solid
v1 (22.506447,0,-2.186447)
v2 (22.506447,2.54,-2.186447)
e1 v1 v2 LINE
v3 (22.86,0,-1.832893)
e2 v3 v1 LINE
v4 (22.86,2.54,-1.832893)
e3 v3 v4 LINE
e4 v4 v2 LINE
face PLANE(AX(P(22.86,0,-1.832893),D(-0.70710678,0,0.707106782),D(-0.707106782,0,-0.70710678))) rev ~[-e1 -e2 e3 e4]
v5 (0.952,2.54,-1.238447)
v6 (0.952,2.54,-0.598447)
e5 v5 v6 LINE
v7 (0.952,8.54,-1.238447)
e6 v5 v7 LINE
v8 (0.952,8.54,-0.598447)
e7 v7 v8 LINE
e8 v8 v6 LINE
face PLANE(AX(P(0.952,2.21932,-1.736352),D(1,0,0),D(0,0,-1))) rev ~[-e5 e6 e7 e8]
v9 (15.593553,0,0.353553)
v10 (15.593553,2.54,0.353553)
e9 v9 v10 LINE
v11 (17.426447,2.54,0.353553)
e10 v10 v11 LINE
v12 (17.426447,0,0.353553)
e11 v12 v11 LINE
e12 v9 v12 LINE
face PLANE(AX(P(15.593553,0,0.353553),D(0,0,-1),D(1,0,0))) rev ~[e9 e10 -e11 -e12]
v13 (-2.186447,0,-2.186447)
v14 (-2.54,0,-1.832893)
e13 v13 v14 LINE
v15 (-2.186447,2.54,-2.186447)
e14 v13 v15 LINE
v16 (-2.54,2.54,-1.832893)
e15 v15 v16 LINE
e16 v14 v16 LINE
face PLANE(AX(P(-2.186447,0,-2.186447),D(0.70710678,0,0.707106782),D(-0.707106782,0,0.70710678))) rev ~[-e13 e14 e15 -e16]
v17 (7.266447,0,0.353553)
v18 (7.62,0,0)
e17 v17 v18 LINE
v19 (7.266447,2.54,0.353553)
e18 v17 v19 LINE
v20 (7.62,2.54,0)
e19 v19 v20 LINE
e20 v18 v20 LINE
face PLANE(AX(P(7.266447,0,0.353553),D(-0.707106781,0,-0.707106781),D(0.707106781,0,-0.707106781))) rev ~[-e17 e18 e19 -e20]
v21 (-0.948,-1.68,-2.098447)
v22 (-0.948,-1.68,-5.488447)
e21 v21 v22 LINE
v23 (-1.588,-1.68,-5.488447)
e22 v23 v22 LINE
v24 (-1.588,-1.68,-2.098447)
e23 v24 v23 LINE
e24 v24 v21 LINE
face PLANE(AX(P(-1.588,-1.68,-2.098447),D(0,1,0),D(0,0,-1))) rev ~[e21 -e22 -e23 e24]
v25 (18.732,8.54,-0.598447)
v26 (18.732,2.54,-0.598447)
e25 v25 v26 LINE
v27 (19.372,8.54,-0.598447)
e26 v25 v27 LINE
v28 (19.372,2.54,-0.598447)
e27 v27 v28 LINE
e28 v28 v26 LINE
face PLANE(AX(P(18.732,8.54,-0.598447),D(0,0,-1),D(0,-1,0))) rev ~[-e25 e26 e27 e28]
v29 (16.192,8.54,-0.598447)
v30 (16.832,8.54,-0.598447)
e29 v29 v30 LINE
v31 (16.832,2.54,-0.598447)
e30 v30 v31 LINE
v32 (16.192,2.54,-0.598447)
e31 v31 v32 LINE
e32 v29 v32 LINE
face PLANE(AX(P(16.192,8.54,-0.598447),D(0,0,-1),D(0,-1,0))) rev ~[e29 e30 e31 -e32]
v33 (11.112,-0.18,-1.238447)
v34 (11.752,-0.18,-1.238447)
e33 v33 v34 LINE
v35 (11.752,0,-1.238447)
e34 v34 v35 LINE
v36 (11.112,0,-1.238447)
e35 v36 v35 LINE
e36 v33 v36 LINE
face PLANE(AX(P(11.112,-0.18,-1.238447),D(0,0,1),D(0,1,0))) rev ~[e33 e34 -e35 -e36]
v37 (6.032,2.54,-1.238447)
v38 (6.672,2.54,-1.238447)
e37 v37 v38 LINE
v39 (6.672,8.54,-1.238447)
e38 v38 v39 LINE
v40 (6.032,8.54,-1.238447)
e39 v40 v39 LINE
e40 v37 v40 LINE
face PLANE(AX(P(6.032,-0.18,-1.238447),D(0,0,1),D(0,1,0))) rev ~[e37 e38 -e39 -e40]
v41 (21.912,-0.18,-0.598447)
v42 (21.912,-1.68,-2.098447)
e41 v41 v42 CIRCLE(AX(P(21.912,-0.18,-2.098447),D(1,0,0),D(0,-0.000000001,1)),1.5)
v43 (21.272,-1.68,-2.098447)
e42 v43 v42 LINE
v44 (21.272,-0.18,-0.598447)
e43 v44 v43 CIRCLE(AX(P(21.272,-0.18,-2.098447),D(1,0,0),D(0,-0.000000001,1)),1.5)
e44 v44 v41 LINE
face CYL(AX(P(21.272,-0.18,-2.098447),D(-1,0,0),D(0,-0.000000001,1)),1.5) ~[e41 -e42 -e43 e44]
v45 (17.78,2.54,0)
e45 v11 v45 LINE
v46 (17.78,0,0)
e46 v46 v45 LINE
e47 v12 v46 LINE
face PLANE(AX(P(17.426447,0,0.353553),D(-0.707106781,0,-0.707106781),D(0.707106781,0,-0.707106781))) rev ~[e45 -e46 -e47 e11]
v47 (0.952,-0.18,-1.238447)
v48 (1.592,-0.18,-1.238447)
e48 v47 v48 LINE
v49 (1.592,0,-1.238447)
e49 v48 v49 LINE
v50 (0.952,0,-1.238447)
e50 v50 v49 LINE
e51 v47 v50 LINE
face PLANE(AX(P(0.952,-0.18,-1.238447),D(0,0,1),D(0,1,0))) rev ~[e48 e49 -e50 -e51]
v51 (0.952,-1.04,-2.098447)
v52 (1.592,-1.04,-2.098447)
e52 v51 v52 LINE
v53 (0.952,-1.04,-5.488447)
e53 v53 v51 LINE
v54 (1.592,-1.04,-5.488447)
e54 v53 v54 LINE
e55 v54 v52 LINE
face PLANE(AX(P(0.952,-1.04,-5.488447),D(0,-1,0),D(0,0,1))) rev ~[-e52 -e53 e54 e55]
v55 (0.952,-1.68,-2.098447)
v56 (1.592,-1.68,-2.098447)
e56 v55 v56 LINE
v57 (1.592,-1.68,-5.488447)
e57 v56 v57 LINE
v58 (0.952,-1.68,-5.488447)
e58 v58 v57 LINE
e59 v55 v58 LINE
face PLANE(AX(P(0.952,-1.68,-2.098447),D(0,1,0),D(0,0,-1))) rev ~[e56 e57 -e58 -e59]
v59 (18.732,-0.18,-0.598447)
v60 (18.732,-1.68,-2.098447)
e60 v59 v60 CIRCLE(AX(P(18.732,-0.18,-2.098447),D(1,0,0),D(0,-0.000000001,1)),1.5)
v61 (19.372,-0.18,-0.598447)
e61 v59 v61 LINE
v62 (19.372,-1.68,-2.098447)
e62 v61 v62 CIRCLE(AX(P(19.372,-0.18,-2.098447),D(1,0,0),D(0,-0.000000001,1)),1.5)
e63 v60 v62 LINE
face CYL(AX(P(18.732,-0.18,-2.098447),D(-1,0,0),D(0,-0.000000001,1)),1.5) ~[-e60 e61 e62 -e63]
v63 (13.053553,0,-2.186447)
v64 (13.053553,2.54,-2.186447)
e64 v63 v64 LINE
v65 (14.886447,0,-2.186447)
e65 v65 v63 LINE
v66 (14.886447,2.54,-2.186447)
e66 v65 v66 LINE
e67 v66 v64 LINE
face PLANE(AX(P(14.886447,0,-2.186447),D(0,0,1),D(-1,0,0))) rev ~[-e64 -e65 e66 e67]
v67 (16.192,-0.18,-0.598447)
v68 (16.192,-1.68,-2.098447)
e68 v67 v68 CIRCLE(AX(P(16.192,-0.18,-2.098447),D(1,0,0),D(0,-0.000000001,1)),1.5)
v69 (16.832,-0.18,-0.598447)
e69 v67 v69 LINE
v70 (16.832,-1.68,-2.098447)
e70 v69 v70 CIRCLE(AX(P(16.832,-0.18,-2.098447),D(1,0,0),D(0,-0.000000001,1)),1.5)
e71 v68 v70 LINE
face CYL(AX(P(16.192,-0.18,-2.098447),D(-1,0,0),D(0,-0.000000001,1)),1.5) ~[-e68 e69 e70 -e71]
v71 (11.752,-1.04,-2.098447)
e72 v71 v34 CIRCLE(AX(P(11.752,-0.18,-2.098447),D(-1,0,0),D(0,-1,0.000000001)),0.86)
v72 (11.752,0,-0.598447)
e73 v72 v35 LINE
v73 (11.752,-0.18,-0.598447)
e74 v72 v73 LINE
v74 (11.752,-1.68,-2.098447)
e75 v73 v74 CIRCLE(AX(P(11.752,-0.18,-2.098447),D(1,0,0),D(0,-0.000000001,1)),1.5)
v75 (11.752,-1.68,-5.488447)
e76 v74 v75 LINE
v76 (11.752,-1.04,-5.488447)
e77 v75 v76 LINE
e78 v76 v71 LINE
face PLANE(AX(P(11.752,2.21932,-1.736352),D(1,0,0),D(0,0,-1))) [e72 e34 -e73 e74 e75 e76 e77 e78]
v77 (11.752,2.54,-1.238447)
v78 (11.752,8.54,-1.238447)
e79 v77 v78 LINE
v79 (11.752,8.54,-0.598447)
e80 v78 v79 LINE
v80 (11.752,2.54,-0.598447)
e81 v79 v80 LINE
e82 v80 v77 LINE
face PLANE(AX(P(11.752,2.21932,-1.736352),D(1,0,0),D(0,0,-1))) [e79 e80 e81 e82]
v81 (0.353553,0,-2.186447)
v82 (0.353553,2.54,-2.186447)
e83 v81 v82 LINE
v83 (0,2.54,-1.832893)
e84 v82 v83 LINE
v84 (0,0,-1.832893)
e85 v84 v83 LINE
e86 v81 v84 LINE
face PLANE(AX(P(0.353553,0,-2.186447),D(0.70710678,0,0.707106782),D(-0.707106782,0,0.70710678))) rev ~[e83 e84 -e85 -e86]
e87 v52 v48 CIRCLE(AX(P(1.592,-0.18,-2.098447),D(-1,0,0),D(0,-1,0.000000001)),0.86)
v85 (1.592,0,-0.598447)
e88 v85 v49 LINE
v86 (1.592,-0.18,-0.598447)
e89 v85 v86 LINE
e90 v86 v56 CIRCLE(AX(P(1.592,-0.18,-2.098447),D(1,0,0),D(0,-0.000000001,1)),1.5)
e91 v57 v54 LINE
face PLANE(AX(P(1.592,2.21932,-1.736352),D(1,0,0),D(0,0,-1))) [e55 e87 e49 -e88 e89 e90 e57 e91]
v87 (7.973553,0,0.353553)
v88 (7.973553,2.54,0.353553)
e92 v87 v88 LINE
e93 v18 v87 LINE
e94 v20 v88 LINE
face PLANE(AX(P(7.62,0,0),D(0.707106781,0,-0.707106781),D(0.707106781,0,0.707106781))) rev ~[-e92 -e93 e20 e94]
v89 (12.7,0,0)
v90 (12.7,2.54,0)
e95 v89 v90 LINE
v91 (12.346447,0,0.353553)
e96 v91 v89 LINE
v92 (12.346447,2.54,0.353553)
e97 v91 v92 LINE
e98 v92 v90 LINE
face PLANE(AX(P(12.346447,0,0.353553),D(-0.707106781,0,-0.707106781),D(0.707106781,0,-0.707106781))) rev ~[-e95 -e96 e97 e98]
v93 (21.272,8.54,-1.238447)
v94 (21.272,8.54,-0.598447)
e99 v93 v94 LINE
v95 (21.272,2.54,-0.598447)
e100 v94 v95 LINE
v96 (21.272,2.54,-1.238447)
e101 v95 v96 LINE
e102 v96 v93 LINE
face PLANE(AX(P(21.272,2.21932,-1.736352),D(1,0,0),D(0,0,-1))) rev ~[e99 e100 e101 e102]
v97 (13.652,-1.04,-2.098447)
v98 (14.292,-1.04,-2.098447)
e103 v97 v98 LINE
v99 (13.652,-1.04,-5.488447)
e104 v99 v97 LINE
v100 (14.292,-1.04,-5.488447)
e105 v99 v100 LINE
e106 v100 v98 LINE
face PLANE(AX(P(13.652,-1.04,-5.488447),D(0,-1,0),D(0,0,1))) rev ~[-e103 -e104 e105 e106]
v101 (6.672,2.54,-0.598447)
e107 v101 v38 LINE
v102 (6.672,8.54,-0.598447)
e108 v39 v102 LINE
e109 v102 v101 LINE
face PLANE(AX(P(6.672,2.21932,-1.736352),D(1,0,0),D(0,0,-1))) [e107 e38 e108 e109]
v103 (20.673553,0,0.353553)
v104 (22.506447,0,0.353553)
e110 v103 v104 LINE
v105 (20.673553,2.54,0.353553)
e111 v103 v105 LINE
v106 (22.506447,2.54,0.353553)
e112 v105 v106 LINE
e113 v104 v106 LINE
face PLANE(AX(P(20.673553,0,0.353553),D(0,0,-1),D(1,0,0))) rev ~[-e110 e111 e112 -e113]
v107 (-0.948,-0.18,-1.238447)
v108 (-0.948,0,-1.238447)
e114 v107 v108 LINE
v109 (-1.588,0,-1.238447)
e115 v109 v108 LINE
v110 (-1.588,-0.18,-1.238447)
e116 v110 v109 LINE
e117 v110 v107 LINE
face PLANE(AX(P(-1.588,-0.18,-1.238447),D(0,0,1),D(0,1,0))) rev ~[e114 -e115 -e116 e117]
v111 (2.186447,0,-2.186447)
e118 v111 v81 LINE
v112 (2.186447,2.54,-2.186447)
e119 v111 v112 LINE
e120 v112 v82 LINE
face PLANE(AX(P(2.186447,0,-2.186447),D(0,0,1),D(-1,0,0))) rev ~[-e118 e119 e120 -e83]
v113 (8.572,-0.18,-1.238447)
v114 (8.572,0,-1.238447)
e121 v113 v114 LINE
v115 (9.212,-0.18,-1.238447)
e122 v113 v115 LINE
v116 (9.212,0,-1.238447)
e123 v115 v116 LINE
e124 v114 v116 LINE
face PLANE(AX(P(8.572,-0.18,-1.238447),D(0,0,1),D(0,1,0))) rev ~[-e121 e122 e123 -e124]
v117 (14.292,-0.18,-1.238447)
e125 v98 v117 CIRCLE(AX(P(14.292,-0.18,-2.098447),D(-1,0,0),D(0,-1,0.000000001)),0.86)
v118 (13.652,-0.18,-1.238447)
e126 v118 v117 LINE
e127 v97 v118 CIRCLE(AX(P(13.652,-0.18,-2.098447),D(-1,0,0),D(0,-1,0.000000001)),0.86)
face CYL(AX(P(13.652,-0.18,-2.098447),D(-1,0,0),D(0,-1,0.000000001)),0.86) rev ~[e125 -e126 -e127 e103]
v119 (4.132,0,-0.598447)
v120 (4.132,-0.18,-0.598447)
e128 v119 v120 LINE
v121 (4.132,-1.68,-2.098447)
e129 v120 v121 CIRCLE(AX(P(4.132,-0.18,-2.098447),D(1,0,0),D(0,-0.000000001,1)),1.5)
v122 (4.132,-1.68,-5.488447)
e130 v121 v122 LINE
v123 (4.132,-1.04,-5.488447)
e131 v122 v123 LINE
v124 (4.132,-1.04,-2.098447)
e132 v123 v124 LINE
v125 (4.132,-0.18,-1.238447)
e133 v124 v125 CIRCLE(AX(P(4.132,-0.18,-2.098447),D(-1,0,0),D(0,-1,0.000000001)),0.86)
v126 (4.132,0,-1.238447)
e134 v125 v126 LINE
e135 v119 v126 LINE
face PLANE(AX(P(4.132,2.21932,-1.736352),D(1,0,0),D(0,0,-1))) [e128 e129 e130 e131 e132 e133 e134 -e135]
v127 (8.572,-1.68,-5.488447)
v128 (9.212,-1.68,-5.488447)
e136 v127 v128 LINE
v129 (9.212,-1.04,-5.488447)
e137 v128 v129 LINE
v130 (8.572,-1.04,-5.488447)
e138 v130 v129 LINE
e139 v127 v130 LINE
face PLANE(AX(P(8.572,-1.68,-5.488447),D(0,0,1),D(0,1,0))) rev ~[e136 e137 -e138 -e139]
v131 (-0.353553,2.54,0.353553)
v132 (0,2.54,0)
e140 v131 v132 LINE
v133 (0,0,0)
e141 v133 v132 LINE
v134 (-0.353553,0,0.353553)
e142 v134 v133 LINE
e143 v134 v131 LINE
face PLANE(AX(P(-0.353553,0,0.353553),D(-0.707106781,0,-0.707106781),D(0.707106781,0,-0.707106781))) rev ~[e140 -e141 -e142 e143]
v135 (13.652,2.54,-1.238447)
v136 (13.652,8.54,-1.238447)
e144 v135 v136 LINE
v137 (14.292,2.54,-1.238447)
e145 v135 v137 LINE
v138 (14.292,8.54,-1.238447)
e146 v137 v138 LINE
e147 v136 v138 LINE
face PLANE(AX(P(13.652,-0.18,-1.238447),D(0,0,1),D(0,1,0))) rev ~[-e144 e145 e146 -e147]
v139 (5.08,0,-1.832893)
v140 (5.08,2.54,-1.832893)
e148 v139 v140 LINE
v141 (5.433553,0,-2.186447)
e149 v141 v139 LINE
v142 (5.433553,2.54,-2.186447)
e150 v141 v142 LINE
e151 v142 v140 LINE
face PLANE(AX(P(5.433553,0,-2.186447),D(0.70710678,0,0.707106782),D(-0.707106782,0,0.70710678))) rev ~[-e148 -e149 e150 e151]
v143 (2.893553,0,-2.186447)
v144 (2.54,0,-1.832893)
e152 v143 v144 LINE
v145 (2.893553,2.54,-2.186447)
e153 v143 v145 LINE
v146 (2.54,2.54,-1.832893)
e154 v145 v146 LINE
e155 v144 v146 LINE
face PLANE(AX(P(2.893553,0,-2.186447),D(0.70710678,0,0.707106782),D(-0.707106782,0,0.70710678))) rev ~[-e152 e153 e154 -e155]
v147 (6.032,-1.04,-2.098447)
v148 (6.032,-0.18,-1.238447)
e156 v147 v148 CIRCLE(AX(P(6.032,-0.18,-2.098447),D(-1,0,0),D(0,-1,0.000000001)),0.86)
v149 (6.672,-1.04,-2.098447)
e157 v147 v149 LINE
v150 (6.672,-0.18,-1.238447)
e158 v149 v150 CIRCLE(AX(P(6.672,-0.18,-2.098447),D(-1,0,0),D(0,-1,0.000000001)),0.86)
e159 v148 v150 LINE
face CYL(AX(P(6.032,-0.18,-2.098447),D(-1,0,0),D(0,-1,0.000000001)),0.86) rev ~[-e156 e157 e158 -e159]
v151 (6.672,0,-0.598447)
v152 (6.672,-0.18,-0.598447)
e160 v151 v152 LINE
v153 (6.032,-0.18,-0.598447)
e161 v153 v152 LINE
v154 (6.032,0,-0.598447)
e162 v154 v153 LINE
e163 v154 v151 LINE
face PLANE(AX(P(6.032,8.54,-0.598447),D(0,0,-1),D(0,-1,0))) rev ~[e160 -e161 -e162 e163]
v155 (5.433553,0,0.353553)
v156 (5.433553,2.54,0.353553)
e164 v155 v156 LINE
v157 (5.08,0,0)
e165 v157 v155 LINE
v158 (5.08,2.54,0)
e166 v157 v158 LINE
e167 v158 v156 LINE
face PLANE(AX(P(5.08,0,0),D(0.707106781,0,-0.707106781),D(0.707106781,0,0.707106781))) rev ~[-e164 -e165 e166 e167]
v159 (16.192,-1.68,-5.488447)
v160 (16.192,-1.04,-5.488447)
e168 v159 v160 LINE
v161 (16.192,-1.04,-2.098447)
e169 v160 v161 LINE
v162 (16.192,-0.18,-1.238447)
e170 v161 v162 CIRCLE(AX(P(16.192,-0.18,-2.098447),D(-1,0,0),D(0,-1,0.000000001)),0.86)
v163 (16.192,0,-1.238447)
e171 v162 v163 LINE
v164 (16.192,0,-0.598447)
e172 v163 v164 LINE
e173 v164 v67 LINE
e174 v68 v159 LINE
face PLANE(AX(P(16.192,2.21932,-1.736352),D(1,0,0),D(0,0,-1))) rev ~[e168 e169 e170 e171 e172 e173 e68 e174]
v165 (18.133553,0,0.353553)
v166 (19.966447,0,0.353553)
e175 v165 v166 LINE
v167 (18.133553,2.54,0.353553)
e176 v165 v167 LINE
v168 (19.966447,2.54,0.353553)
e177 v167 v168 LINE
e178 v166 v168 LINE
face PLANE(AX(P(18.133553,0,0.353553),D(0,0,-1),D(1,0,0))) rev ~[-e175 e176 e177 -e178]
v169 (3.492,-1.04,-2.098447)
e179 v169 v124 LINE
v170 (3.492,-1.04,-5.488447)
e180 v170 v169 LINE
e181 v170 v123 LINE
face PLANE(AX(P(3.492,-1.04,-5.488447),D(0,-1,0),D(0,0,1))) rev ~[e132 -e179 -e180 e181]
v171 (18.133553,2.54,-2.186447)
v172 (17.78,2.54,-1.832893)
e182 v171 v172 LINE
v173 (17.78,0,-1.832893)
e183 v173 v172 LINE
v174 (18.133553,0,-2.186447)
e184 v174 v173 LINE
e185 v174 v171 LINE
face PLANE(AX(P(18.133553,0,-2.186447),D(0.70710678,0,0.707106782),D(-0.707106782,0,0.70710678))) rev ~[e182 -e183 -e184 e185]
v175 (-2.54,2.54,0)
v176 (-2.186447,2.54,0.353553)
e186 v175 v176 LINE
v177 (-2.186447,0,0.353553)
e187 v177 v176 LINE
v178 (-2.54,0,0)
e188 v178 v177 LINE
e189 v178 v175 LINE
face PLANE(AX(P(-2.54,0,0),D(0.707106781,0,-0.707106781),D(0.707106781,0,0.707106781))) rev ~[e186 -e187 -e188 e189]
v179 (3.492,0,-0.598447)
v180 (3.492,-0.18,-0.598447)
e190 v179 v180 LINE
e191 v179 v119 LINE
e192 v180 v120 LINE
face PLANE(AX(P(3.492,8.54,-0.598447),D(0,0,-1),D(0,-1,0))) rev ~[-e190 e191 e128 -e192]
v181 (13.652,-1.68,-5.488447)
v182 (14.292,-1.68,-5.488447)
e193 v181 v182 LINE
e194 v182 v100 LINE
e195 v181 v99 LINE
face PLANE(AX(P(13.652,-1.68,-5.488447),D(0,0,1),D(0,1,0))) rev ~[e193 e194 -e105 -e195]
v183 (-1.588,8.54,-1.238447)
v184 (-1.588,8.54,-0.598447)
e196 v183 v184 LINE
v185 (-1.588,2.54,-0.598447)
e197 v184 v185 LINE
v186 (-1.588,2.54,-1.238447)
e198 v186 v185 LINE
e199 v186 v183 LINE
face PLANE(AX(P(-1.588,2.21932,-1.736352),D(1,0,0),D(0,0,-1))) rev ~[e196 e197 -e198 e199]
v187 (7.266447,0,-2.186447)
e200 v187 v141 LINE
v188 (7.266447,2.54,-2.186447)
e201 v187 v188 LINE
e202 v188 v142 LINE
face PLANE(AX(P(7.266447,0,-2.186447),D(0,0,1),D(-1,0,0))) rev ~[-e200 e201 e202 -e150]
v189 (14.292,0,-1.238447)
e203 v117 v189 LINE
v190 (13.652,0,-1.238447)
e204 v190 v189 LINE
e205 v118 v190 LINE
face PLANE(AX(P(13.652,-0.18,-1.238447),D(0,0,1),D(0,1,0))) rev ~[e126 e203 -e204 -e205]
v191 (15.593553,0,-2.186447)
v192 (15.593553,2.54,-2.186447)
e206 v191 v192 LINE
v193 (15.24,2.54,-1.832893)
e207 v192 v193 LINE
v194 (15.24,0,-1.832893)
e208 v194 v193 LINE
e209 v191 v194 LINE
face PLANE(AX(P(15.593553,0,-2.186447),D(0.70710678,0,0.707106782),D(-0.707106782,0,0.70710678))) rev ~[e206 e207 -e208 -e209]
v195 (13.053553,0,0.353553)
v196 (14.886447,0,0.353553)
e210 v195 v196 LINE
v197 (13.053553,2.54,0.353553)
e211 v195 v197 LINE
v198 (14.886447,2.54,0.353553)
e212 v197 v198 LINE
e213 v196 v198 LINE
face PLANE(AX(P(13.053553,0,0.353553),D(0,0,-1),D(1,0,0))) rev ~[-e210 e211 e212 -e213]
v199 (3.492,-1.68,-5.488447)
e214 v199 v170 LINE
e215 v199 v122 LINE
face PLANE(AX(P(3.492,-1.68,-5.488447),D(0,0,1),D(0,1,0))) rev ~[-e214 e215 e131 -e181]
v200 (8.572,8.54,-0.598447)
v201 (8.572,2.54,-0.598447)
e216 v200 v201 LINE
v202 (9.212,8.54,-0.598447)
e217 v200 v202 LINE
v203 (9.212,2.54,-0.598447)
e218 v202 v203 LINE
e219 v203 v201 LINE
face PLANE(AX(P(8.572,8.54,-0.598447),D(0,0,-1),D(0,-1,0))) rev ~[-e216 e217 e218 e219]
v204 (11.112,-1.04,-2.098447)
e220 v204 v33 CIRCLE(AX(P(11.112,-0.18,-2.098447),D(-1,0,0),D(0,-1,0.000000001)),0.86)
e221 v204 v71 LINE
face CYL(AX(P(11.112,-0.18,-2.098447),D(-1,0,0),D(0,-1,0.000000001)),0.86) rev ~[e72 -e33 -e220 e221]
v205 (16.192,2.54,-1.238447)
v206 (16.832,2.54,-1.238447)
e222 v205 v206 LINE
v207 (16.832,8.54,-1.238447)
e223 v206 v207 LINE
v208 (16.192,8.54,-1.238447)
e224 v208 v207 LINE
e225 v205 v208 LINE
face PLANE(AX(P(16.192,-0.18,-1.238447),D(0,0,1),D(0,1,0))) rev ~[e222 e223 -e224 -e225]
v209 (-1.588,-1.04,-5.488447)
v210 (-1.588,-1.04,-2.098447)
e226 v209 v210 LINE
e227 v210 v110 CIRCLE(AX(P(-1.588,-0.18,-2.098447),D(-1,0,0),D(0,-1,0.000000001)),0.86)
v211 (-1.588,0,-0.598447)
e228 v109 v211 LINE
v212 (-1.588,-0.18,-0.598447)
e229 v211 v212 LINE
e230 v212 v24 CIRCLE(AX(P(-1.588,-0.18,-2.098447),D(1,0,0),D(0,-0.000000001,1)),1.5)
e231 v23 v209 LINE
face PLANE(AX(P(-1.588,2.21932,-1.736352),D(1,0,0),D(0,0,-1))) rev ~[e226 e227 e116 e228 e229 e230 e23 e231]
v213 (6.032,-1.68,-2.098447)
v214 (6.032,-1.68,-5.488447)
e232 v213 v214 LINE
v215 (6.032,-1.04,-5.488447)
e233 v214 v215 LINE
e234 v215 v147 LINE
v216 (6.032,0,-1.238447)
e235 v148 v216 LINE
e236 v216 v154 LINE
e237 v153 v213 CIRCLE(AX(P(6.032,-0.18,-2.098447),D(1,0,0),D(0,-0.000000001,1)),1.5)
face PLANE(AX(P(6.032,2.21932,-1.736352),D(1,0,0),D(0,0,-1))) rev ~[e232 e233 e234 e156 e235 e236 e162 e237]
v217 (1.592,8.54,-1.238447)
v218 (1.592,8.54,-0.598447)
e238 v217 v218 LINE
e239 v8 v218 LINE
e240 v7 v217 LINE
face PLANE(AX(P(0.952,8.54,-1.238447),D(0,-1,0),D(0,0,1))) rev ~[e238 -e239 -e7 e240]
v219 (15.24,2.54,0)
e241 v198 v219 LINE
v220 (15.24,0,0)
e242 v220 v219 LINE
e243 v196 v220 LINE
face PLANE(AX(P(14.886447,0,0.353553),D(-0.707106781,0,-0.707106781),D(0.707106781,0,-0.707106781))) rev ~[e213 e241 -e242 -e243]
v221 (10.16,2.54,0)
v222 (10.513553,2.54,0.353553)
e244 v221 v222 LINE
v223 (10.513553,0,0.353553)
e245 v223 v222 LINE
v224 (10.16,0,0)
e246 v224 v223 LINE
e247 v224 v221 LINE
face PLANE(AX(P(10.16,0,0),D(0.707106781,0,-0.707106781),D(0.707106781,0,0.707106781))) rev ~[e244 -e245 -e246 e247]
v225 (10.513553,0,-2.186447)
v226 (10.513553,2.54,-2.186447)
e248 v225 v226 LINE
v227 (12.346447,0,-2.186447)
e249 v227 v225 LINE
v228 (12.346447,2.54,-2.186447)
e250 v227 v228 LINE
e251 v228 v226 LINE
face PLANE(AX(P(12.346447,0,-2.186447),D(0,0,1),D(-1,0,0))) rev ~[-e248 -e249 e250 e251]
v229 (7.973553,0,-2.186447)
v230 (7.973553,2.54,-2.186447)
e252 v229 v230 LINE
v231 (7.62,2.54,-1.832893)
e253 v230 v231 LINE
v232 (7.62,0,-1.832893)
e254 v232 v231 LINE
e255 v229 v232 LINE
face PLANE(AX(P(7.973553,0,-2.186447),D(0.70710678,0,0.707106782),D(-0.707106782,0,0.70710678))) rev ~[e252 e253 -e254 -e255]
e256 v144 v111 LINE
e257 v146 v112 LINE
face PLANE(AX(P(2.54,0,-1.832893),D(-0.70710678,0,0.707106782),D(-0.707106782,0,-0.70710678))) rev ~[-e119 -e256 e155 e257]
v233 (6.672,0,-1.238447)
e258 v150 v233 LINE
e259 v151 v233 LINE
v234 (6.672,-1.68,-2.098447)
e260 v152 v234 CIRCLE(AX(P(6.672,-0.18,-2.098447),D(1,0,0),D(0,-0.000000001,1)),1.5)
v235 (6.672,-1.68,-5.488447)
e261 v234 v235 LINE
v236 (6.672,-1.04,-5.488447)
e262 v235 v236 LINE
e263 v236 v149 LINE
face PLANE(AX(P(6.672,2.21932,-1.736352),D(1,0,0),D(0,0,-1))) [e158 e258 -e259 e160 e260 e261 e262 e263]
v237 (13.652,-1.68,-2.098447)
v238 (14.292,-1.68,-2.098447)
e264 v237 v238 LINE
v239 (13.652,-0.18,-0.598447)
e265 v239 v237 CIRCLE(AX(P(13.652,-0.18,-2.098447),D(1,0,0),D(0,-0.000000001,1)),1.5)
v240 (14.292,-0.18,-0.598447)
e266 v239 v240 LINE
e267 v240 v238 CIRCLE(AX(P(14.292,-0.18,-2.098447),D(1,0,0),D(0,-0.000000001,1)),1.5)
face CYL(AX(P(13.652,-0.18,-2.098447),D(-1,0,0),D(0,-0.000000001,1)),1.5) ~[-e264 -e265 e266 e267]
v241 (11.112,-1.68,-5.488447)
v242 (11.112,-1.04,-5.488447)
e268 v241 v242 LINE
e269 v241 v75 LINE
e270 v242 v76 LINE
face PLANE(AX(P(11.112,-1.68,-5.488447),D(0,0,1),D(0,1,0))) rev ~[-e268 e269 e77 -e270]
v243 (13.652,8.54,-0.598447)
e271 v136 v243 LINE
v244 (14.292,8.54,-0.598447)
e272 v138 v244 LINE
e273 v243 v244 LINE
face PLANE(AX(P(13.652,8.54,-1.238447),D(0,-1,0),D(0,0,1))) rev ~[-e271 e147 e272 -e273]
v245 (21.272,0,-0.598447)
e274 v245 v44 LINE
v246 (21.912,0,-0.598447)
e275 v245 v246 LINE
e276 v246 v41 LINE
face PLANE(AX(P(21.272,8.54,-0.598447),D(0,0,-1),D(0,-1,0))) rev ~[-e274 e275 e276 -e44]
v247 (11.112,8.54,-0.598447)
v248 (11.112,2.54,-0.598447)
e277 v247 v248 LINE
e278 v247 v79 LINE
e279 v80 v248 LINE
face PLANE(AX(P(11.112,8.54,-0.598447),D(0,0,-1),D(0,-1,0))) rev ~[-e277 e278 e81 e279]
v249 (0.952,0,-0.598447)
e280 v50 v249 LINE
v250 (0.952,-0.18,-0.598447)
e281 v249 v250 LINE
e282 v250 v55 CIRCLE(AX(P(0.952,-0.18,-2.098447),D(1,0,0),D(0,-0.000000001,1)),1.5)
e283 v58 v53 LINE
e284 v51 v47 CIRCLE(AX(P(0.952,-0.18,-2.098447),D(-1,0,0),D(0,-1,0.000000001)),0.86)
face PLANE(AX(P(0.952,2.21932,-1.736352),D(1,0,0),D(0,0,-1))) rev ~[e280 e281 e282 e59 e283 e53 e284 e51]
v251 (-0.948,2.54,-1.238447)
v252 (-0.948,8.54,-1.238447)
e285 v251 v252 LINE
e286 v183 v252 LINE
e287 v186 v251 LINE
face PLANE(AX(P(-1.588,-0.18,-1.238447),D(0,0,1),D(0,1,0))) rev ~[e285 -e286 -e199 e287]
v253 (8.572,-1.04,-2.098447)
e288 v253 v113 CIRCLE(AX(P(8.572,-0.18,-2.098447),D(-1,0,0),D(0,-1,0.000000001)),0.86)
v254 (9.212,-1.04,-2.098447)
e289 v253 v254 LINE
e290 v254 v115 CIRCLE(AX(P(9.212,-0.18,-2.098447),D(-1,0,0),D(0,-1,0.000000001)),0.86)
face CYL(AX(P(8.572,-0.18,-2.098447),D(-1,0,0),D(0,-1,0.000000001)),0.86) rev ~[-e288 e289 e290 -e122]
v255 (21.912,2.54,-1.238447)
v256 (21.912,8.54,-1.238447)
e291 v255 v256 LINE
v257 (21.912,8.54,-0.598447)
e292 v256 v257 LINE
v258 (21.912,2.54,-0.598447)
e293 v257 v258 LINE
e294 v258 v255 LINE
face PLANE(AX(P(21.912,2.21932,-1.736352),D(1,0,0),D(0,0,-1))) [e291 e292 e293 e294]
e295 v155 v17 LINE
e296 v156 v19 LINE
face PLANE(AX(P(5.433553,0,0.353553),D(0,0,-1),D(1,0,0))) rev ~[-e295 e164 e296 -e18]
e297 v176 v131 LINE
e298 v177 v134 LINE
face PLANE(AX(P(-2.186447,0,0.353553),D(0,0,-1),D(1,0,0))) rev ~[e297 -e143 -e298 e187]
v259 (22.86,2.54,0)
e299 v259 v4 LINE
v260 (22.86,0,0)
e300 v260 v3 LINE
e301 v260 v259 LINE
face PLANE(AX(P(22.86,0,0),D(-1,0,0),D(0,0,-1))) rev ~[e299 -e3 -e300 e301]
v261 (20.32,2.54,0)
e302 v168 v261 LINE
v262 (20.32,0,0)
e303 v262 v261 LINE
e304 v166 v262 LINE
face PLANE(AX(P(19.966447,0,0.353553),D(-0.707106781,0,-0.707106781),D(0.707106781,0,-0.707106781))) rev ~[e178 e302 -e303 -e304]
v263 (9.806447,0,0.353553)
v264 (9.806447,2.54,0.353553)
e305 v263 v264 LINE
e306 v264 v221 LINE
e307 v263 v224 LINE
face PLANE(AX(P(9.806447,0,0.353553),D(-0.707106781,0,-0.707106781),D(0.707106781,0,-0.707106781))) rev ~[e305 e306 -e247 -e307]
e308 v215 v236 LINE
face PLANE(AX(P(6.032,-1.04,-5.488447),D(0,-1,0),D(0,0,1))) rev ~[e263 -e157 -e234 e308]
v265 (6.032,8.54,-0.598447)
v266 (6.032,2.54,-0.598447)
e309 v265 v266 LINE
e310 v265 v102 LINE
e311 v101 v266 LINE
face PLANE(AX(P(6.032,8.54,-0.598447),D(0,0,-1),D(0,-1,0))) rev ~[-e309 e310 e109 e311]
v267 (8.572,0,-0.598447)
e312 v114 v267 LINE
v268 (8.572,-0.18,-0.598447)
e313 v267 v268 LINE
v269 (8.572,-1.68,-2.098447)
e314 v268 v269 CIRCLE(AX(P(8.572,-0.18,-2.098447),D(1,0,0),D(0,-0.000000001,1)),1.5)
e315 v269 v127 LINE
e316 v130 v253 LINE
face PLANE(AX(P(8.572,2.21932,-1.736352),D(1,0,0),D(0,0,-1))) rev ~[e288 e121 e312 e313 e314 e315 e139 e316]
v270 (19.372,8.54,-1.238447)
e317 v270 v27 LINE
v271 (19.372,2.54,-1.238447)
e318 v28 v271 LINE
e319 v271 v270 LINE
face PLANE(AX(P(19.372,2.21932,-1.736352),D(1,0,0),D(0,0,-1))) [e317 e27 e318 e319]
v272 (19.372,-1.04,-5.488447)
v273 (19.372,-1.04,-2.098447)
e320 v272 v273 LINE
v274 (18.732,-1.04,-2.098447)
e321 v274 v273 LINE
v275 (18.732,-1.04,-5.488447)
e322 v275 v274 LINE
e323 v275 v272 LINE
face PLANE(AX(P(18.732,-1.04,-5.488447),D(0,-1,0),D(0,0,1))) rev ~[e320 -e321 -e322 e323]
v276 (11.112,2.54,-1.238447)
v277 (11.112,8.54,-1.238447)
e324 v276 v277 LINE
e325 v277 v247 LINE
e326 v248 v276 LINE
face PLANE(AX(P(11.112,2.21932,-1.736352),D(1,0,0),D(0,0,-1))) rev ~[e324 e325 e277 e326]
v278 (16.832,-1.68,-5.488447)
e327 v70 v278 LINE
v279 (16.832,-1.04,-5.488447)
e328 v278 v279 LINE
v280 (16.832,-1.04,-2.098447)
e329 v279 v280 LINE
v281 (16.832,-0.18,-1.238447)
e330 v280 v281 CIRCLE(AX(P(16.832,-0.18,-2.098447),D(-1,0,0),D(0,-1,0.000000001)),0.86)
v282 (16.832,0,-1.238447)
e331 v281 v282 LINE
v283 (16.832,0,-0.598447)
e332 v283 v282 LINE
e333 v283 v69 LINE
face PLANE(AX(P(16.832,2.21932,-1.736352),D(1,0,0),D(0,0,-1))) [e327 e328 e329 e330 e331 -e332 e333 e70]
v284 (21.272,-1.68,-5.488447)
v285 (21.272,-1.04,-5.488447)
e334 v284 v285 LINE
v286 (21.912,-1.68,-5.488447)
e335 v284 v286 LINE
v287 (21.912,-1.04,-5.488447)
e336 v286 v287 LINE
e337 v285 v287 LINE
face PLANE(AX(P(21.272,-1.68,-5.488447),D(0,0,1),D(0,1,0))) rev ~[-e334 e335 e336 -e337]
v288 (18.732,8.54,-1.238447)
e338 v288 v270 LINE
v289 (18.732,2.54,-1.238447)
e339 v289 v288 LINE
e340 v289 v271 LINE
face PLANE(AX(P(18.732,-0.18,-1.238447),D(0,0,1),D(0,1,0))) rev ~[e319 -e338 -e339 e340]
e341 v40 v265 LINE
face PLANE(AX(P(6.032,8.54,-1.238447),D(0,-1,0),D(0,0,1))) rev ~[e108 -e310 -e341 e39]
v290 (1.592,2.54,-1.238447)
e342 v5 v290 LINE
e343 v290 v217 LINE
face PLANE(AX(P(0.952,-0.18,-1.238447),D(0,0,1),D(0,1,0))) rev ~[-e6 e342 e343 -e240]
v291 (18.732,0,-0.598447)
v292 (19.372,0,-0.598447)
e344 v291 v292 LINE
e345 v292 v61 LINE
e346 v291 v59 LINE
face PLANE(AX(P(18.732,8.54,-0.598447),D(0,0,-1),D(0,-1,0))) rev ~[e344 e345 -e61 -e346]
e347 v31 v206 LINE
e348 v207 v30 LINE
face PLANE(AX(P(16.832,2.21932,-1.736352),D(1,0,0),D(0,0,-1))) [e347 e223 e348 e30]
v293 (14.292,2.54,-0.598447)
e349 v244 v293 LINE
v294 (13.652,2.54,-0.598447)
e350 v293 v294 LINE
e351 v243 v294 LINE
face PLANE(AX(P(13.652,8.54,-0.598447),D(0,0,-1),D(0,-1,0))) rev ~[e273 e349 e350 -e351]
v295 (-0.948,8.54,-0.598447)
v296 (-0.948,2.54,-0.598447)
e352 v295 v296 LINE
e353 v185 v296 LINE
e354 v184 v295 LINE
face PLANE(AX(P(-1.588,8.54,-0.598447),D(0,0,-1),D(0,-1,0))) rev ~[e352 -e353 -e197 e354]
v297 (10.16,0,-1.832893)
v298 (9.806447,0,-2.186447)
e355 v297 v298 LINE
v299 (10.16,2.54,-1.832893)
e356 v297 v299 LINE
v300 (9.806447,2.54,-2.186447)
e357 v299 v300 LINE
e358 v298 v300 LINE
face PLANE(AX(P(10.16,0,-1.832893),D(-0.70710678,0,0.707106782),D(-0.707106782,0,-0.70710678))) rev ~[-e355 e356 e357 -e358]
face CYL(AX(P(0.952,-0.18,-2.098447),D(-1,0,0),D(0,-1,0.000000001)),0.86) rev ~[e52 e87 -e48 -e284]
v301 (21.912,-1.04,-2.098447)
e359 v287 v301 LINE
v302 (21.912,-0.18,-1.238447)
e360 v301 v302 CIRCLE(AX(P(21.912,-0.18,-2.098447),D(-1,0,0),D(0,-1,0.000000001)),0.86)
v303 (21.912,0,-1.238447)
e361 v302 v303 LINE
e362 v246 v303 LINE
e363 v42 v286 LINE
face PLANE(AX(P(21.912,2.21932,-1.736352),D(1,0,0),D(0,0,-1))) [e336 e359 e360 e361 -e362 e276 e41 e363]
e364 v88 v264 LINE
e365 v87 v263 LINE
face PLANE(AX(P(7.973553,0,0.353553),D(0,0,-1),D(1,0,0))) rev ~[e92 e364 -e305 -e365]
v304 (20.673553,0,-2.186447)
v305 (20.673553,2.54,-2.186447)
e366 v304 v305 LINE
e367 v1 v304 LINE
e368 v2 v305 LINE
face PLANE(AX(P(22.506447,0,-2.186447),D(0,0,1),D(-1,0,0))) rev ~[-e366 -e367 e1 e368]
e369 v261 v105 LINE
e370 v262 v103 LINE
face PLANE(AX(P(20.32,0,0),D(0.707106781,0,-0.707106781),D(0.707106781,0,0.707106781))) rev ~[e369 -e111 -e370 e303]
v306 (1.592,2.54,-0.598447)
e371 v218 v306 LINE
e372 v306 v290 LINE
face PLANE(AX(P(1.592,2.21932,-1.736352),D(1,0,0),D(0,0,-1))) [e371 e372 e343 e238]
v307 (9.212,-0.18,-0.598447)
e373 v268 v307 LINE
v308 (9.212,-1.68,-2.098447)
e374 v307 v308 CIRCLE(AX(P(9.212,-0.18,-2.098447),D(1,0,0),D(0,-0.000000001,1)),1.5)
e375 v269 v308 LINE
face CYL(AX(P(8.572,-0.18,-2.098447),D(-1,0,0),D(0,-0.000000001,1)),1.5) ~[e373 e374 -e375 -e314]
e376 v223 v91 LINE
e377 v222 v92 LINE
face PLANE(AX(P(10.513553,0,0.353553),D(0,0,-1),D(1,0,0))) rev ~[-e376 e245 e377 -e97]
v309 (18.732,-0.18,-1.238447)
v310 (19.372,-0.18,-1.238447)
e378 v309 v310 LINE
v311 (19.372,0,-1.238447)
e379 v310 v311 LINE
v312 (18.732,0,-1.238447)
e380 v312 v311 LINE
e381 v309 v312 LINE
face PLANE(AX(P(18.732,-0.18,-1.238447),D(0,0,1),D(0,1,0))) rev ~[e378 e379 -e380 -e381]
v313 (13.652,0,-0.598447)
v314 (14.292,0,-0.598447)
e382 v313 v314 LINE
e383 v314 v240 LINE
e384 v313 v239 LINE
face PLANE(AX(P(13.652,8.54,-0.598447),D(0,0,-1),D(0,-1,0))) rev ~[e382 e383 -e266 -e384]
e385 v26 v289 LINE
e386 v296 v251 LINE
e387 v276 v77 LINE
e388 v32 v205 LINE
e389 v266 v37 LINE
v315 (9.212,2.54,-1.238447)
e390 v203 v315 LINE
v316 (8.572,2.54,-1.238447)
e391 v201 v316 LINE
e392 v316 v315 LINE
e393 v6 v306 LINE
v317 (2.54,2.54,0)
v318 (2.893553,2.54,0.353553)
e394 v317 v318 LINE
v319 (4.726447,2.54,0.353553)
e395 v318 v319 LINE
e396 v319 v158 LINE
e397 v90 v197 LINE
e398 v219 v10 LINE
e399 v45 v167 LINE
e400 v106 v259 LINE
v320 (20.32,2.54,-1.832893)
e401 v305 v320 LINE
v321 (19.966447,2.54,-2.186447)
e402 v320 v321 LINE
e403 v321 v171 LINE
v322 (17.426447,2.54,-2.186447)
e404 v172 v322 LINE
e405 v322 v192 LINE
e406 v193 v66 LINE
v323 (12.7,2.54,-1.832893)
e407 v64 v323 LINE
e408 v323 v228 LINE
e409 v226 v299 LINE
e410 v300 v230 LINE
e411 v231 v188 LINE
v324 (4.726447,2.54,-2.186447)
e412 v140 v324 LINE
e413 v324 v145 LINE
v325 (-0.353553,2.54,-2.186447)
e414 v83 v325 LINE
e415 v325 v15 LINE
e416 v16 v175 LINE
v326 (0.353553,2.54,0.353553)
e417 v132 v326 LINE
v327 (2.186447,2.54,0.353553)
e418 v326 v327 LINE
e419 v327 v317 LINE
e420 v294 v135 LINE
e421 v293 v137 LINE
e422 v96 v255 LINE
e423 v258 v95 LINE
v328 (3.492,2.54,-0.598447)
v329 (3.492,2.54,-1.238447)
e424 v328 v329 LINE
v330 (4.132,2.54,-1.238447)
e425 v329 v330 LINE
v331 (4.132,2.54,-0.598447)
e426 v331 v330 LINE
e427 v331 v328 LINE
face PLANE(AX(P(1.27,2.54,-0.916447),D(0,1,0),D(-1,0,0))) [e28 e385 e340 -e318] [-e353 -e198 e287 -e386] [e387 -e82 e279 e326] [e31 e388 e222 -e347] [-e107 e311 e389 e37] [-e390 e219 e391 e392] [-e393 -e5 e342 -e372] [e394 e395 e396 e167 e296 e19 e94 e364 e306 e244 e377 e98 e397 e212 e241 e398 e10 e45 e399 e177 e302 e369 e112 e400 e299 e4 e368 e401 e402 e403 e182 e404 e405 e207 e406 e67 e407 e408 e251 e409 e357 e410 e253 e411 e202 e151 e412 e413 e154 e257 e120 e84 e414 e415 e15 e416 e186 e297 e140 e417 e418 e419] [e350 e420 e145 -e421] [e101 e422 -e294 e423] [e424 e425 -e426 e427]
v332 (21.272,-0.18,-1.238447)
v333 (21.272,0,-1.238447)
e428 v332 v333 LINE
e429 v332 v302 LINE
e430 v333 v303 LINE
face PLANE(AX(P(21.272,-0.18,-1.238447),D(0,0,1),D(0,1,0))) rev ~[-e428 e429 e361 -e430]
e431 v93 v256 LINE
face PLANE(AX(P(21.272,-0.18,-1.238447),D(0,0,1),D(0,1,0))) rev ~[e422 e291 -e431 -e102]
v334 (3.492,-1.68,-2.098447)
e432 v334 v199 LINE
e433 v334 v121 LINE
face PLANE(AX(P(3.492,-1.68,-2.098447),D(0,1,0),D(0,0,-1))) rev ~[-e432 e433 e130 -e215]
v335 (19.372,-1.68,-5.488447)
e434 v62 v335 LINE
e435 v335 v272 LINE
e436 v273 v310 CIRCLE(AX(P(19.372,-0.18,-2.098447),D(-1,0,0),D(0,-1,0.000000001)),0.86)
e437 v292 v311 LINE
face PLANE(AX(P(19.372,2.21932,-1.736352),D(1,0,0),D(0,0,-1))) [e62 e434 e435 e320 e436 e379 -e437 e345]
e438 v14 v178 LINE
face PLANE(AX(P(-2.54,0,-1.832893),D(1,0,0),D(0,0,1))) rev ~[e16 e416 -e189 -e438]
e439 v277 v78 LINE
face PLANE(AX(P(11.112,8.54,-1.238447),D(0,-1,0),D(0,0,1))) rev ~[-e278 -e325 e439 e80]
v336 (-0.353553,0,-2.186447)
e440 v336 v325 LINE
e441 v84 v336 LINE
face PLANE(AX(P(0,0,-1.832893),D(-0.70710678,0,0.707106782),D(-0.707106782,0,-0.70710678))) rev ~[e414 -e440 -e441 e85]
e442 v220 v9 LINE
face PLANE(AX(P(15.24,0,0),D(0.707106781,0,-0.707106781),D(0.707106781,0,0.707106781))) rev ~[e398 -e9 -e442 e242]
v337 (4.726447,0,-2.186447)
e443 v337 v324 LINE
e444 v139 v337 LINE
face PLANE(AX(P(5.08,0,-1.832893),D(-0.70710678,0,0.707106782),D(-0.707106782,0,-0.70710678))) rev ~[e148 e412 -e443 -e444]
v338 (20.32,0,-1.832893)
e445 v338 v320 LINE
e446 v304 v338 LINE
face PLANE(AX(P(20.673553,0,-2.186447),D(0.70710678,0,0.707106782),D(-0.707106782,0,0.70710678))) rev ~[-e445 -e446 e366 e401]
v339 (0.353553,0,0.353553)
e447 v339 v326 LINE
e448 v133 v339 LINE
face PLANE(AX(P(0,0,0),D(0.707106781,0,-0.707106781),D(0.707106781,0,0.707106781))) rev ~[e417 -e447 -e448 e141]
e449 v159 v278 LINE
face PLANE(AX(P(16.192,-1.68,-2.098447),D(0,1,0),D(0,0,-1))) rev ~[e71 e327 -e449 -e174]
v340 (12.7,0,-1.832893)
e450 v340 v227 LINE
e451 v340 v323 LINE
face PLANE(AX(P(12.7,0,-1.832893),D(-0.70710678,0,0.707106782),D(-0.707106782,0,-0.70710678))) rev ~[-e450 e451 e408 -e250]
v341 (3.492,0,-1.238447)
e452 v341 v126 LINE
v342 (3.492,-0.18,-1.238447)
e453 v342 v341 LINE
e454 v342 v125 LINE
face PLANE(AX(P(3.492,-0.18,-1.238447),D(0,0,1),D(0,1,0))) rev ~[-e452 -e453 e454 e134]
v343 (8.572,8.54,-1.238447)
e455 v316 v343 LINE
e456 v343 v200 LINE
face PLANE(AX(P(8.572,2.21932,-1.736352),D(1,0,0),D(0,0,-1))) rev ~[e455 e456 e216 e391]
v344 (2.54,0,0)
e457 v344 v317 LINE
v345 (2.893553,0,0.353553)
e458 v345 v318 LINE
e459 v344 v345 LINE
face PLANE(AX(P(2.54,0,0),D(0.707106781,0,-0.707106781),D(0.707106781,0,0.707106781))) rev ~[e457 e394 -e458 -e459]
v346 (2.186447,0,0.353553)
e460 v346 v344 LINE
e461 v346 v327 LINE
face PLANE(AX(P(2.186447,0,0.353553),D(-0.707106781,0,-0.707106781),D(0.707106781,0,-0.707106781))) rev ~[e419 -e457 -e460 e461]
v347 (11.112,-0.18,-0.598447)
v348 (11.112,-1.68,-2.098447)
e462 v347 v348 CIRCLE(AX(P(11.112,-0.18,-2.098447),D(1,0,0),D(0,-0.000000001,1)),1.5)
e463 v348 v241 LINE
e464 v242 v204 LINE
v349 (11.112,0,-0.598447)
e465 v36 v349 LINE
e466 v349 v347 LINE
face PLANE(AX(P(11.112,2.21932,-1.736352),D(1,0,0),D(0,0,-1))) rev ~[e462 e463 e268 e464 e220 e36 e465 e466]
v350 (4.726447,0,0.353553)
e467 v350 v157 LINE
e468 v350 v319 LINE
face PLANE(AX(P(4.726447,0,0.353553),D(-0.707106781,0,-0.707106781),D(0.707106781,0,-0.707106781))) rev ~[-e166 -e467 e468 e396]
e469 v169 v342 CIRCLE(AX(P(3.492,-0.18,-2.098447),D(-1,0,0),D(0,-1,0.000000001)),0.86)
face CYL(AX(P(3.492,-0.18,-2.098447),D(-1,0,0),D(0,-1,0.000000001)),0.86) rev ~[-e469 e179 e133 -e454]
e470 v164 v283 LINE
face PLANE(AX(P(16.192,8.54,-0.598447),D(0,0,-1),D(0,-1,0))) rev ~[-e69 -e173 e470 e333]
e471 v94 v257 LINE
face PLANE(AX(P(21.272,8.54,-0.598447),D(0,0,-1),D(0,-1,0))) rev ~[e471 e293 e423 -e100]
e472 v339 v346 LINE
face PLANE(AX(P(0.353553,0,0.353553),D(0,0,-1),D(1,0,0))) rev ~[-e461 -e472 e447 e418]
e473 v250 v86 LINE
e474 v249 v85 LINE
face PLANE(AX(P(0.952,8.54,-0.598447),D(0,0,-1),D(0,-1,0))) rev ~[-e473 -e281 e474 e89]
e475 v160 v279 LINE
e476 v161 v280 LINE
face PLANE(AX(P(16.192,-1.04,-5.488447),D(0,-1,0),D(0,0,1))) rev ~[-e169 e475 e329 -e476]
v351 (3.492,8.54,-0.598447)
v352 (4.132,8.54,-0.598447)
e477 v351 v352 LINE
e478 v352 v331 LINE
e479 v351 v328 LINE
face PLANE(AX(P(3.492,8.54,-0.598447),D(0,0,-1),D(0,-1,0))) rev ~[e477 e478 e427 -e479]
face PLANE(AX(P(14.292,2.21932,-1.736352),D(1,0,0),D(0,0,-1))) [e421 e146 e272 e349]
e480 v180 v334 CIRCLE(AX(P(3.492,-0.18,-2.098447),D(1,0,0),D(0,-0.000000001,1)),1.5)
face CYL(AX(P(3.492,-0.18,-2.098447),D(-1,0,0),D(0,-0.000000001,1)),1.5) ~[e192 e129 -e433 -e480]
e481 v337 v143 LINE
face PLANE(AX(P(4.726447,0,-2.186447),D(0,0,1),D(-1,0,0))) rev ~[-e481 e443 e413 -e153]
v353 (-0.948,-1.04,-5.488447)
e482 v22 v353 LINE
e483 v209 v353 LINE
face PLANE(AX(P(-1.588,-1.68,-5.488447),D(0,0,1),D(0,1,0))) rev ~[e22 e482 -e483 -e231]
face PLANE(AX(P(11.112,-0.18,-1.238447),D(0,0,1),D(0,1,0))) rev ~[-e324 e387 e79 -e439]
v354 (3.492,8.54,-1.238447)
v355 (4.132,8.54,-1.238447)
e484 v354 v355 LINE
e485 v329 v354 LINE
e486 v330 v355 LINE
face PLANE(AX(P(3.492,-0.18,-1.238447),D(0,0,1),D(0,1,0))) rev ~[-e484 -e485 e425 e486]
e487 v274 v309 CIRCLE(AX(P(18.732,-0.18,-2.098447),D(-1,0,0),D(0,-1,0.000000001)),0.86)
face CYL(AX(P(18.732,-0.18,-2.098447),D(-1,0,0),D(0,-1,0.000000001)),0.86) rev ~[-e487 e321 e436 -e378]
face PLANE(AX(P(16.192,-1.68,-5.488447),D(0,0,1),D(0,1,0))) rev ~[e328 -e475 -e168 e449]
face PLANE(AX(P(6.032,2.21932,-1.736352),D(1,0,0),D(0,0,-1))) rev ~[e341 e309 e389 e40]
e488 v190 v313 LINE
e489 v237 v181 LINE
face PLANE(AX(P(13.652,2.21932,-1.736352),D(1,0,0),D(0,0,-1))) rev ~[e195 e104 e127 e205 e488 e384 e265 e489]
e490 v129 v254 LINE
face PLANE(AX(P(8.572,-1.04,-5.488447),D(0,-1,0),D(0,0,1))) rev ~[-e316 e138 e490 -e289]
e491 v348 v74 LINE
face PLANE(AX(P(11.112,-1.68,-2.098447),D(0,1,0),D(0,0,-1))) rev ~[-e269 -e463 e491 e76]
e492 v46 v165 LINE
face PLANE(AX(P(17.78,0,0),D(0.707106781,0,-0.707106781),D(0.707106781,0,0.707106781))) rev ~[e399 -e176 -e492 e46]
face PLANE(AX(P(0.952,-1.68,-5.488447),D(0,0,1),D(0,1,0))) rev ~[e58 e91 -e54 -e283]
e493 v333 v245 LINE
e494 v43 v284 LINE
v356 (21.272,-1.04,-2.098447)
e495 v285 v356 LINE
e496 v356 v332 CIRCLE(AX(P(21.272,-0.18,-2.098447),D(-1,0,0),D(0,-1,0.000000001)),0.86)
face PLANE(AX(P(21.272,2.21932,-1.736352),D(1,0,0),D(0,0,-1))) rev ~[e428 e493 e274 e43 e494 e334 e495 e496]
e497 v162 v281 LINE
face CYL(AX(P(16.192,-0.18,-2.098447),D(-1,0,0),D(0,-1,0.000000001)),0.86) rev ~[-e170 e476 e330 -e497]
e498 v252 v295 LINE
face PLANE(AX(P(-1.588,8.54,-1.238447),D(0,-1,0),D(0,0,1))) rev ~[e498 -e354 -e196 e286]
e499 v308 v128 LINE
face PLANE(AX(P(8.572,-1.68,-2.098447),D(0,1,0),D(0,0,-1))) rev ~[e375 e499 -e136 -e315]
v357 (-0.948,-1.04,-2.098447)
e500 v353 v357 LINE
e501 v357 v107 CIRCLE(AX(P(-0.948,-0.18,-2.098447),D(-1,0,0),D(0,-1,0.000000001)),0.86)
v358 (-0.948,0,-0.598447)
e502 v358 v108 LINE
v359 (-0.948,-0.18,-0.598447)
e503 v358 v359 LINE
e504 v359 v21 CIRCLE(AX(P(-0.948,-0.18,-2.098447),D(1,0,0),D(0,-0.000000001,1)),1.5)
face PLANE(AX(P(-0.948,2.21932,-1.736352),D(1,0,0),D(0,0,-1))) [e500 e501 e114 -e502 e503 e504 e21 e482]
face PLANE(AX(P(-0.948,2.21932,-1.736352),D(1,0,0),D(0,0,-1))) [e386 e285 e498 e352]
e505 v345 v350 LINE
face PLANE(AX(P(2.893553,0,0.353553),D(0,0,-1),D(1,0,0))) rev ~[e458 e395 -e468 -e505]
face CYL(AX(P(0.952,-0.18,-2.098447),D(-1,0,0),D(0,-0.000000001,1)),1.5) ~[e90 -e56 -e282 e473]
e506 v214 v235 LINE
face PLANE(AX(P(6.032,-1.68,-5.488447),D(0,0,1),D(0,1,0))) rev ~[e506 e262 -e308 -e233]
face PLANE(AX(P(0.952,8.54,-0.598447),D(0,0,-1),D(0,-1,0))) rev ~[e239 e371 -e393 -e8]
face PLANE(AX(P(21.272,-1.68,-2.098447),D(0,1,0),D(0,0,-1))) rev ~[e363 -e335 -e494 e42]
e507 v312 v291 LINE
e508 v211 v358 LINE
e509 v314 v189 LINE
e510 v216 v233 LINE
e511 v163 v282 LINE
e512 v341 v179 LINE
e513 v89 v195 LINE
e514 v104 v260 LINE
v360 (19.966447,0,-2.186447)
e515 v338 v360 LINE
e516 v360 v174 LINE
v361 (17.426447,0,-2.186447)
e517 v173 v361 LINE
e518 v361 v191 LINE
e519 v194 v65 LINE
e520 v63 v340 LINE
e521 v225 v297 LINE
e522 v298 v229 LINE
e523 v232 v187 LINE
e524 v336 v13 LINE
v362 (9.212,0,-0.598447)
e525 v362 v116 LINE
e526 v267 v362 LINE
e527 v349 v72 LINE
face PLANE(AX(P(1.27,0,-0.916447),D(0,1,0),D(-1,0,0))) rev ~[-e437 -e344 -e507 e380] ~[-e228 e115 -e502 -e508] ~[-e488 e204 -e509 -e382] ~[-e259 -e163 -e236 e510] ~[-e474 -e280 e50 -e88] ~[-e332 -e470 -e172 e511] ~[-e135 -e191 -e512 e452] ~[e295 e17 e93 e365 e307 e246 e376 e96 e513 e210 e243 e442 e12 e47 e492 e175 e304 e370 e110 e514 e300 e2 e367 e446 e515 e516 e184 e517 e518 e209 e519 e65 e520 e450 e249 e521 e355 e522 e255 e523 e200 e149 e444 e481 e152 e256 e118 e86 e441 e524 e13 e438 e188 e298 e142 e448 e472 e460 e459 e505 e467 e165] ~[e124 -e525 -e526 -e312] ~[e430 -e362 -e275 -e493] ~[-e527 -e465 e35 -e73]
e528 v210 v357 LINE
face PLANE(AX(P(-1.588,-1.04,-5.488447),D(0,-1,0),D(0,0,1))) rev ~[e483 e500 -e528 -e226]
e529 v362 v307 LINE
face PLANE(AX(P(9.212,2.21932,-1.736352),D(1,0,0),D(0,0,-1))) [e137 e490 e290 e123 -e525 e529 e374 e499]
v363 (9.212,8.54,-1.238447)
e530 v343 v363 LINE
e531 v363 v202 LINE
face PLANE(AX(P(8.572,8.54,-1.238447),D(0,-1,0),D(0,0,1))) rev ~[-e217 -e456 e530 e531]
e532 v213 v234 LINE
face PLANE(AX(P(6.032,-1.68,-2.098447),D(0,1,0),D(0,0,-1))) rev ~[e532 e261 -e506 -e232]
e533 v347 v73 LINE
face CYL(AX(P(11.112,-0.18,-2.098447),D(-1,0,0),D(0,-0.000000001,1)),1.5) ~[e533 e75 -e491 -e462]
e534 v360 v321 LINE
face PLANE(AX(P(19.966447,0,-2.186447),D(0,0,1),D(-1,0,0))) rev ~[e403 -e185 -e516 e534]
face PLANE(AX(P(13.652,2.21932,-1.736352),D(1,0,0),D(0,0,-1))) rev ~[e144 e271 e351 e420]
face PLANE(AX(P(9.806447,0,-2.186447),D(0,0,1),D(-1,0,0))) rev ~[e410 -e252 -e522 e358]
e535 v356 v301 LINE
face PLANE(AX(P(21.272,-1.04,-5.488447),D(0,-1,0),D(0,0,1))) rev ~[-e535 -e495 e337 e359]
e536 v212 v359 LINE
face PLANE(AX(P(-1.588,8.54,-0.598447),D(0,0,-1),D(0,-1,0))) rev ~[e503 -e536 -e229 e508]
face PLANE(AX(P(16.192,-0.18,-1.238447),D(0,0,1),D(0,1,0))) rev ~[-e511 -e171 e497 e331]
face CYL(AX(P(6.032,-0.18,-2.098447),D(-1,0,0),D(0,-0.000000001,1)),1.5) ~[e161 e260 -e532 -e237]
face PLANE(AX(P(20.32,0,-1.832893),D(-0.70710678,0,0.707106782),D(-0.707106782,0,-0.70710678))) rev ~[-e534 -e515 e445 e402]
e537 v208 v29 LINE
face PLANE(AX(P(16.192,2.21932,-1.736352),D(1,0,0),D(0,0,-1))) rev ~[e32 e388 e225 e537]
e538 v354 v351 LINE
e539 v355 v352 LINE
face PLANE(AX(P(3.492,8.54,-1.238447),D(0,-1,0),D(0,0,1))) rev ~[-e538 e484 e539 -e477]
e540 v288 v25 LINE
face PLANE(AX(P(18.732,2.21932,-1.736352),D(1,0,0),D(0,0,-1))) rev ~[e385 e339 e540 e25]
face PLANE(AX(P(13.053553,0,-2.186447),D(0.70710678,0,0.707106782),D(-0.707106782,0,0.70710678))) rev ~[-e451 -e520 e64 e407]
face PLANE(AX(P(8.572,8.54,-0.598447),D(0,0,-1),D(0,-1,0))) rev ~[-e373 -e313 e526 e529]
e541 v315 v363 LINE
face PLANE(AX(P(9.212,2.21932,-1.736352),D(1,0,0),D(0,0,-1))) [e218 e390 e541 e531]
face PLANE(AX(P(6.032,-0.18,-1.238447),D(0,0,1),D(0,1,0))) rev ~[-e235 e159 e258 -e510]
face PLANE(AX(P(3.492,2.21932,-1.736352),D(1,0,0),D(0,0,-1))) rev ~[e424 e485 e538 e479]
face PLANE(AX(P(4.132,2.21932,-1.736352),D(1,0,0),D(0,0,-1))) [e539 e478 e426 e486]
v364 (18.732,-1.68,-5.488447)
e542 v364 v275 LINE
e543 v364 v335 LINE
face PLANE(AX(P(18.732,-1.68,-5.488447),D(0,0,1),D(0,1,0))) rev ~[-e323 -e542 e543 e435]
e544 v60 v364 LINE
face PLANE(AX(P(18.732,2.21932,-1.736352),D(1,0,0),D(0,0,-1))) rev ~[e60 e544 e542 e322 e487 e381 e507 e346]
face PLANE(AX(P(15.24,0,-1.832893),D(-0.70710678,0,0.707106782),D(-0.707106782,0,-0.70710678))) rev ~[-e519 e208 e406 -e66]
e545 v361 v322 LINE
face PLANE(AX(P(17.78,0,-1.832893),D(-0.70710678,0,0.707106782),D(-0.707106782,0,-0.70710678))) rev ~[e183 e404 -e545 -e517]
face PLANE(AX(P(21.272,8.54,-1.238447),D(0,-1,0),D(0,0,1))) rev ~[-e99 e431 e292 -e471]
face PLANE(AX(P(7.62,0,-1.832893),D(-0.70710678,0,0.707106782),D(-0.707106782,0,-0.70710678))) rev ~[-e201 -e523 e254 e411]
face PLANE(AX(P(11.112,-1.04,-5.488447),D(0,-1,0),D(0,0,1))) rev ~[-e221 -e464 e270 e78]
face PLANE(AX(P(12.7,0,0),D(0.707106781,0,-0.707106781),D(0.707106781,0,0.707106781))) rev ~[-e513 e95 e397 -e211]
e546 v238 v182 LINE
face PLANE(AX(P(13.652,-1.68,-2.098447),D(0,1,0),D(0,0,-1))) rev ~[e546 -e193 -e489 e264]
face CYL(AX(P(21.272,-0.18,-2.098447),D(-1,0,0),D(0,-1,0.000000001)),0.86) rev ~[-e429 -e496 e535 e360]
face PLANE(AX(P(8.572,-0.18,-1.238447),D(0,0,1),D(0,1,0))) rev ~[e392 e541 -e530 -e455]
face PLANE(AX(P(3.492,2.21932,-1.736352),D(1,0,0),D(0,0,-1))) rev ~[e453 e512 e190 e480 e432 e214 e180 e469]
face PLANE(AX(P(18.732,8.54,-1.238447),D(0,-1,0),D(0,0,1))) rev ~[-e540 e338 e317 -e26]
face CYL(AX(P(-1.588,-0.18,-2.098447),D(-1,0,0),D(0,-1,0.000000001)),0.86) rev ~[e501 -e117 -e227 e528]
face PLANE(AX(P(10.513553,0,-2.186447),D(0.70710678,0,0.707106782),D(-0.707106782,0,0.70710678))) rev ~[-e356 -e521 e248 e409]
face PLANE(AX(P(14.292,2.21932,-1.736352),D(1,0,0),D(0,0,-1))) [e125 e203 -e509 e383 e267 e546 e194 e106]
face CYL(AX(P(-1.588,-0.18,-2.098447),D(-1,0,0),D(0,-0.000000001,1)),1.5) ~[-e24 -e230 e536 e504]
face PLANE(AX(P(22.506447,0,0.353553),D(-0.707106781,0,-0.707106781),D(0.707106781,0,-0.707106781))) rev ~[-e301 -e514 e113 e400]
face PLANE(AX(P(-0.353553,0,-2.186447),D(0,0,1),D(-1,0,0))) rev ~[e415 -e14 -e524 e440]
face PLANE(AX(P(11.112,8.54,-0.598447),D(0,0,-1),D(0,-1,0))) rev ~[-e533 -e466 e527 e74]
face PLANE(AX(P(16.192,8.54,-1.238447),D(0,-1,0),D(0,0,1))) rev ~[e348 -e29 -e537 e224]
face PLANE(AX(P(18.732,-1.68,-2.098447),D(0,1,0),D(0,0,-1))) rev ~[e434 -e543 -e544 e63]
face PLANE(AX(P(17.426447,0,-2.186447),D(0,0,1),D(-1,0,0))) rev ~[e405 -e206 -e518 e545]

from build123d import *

# Parameters (mm, degrees)
SKETCH1_W                  = 0.636
SKETCH1_H                  = 0.636
BOSS_EXTRUDE1_DEPTH        = 2.54
BOSS_EXTRU_1_DEPTH         = 0.64
R_P_TITION_LIN_AIRE1_COUNT = 10
R_P_TITION_LIN_AIRE1_PITCH = 2.54


with BuildPart() as part:
    # Sketch1 → Boss-Extrude1 (new body)
    with BuildSketch(Plane.XZ):
        Polygon((-0.353553391, -2.186446609), (-2.186446609, -2.186446609), (-2.54, -1.832893219), (-2.54, 0), (-2.186446609, 0.353553391), (-0.353553391, 0.353553391), (0, 0), (0, -1.832893219), align=None)
        with Locations((-1.27, -0.916446609)):
            Rectangle(SKETCH1_W, SKETCH1_H, mode=Mode.SUBTRACT)
    boss_extrude1 = extrude(amount=-BOSS_EXTRUDE1_DEPTH)

    # Esquisse1 → Boss.-Extru.1 (add)
    with BuildSketch(Plane(origin=(-1.588, 0, 0), x_dir=(0, 0, -1), z_dir=(1, 0, 0))):
        with BuildLine():
            Line((0.598446609, 8.54), (0.598446609, -0.18))
            ThreePointArc((0.598446609, -0.18), (1.037786438, -1.240660172), (2.098446609, -1.68))
            Line((2.098446609, -1.68), (5.488446609, -1.68))
            Line((5.488446609, -1.68), (5.488446609, -1.04))
            Line((5.488446609, -1.04), (2.098446609, -1.04))
            ThreePointArc((2.098446609, -1.04), (1.490334778, -0.788111832), (1.238446609, -0.18))
            Line((1.238446609, -0.18), (1.238446609, 8.54))
            Line((1.238446609, 8.54), (0.598446609, 8.54))
        make_face()
    boss_extru_1 = extrude(amount=BOSS_EXTRU_1_DEPTH)

    # Répétition linéaire1: Boss-Extrude1, Boss.-Extru.1 ×10
    with Locations(*[(i * R_P_TITION_LIN_AIRE1_PITCH, 0, 0) for i in range(1, R_P_TITION_LIN_AIRE1_COUNT)]):
        add(boss_extrude1)
        add(boss_extru_1)


solid = part.part
